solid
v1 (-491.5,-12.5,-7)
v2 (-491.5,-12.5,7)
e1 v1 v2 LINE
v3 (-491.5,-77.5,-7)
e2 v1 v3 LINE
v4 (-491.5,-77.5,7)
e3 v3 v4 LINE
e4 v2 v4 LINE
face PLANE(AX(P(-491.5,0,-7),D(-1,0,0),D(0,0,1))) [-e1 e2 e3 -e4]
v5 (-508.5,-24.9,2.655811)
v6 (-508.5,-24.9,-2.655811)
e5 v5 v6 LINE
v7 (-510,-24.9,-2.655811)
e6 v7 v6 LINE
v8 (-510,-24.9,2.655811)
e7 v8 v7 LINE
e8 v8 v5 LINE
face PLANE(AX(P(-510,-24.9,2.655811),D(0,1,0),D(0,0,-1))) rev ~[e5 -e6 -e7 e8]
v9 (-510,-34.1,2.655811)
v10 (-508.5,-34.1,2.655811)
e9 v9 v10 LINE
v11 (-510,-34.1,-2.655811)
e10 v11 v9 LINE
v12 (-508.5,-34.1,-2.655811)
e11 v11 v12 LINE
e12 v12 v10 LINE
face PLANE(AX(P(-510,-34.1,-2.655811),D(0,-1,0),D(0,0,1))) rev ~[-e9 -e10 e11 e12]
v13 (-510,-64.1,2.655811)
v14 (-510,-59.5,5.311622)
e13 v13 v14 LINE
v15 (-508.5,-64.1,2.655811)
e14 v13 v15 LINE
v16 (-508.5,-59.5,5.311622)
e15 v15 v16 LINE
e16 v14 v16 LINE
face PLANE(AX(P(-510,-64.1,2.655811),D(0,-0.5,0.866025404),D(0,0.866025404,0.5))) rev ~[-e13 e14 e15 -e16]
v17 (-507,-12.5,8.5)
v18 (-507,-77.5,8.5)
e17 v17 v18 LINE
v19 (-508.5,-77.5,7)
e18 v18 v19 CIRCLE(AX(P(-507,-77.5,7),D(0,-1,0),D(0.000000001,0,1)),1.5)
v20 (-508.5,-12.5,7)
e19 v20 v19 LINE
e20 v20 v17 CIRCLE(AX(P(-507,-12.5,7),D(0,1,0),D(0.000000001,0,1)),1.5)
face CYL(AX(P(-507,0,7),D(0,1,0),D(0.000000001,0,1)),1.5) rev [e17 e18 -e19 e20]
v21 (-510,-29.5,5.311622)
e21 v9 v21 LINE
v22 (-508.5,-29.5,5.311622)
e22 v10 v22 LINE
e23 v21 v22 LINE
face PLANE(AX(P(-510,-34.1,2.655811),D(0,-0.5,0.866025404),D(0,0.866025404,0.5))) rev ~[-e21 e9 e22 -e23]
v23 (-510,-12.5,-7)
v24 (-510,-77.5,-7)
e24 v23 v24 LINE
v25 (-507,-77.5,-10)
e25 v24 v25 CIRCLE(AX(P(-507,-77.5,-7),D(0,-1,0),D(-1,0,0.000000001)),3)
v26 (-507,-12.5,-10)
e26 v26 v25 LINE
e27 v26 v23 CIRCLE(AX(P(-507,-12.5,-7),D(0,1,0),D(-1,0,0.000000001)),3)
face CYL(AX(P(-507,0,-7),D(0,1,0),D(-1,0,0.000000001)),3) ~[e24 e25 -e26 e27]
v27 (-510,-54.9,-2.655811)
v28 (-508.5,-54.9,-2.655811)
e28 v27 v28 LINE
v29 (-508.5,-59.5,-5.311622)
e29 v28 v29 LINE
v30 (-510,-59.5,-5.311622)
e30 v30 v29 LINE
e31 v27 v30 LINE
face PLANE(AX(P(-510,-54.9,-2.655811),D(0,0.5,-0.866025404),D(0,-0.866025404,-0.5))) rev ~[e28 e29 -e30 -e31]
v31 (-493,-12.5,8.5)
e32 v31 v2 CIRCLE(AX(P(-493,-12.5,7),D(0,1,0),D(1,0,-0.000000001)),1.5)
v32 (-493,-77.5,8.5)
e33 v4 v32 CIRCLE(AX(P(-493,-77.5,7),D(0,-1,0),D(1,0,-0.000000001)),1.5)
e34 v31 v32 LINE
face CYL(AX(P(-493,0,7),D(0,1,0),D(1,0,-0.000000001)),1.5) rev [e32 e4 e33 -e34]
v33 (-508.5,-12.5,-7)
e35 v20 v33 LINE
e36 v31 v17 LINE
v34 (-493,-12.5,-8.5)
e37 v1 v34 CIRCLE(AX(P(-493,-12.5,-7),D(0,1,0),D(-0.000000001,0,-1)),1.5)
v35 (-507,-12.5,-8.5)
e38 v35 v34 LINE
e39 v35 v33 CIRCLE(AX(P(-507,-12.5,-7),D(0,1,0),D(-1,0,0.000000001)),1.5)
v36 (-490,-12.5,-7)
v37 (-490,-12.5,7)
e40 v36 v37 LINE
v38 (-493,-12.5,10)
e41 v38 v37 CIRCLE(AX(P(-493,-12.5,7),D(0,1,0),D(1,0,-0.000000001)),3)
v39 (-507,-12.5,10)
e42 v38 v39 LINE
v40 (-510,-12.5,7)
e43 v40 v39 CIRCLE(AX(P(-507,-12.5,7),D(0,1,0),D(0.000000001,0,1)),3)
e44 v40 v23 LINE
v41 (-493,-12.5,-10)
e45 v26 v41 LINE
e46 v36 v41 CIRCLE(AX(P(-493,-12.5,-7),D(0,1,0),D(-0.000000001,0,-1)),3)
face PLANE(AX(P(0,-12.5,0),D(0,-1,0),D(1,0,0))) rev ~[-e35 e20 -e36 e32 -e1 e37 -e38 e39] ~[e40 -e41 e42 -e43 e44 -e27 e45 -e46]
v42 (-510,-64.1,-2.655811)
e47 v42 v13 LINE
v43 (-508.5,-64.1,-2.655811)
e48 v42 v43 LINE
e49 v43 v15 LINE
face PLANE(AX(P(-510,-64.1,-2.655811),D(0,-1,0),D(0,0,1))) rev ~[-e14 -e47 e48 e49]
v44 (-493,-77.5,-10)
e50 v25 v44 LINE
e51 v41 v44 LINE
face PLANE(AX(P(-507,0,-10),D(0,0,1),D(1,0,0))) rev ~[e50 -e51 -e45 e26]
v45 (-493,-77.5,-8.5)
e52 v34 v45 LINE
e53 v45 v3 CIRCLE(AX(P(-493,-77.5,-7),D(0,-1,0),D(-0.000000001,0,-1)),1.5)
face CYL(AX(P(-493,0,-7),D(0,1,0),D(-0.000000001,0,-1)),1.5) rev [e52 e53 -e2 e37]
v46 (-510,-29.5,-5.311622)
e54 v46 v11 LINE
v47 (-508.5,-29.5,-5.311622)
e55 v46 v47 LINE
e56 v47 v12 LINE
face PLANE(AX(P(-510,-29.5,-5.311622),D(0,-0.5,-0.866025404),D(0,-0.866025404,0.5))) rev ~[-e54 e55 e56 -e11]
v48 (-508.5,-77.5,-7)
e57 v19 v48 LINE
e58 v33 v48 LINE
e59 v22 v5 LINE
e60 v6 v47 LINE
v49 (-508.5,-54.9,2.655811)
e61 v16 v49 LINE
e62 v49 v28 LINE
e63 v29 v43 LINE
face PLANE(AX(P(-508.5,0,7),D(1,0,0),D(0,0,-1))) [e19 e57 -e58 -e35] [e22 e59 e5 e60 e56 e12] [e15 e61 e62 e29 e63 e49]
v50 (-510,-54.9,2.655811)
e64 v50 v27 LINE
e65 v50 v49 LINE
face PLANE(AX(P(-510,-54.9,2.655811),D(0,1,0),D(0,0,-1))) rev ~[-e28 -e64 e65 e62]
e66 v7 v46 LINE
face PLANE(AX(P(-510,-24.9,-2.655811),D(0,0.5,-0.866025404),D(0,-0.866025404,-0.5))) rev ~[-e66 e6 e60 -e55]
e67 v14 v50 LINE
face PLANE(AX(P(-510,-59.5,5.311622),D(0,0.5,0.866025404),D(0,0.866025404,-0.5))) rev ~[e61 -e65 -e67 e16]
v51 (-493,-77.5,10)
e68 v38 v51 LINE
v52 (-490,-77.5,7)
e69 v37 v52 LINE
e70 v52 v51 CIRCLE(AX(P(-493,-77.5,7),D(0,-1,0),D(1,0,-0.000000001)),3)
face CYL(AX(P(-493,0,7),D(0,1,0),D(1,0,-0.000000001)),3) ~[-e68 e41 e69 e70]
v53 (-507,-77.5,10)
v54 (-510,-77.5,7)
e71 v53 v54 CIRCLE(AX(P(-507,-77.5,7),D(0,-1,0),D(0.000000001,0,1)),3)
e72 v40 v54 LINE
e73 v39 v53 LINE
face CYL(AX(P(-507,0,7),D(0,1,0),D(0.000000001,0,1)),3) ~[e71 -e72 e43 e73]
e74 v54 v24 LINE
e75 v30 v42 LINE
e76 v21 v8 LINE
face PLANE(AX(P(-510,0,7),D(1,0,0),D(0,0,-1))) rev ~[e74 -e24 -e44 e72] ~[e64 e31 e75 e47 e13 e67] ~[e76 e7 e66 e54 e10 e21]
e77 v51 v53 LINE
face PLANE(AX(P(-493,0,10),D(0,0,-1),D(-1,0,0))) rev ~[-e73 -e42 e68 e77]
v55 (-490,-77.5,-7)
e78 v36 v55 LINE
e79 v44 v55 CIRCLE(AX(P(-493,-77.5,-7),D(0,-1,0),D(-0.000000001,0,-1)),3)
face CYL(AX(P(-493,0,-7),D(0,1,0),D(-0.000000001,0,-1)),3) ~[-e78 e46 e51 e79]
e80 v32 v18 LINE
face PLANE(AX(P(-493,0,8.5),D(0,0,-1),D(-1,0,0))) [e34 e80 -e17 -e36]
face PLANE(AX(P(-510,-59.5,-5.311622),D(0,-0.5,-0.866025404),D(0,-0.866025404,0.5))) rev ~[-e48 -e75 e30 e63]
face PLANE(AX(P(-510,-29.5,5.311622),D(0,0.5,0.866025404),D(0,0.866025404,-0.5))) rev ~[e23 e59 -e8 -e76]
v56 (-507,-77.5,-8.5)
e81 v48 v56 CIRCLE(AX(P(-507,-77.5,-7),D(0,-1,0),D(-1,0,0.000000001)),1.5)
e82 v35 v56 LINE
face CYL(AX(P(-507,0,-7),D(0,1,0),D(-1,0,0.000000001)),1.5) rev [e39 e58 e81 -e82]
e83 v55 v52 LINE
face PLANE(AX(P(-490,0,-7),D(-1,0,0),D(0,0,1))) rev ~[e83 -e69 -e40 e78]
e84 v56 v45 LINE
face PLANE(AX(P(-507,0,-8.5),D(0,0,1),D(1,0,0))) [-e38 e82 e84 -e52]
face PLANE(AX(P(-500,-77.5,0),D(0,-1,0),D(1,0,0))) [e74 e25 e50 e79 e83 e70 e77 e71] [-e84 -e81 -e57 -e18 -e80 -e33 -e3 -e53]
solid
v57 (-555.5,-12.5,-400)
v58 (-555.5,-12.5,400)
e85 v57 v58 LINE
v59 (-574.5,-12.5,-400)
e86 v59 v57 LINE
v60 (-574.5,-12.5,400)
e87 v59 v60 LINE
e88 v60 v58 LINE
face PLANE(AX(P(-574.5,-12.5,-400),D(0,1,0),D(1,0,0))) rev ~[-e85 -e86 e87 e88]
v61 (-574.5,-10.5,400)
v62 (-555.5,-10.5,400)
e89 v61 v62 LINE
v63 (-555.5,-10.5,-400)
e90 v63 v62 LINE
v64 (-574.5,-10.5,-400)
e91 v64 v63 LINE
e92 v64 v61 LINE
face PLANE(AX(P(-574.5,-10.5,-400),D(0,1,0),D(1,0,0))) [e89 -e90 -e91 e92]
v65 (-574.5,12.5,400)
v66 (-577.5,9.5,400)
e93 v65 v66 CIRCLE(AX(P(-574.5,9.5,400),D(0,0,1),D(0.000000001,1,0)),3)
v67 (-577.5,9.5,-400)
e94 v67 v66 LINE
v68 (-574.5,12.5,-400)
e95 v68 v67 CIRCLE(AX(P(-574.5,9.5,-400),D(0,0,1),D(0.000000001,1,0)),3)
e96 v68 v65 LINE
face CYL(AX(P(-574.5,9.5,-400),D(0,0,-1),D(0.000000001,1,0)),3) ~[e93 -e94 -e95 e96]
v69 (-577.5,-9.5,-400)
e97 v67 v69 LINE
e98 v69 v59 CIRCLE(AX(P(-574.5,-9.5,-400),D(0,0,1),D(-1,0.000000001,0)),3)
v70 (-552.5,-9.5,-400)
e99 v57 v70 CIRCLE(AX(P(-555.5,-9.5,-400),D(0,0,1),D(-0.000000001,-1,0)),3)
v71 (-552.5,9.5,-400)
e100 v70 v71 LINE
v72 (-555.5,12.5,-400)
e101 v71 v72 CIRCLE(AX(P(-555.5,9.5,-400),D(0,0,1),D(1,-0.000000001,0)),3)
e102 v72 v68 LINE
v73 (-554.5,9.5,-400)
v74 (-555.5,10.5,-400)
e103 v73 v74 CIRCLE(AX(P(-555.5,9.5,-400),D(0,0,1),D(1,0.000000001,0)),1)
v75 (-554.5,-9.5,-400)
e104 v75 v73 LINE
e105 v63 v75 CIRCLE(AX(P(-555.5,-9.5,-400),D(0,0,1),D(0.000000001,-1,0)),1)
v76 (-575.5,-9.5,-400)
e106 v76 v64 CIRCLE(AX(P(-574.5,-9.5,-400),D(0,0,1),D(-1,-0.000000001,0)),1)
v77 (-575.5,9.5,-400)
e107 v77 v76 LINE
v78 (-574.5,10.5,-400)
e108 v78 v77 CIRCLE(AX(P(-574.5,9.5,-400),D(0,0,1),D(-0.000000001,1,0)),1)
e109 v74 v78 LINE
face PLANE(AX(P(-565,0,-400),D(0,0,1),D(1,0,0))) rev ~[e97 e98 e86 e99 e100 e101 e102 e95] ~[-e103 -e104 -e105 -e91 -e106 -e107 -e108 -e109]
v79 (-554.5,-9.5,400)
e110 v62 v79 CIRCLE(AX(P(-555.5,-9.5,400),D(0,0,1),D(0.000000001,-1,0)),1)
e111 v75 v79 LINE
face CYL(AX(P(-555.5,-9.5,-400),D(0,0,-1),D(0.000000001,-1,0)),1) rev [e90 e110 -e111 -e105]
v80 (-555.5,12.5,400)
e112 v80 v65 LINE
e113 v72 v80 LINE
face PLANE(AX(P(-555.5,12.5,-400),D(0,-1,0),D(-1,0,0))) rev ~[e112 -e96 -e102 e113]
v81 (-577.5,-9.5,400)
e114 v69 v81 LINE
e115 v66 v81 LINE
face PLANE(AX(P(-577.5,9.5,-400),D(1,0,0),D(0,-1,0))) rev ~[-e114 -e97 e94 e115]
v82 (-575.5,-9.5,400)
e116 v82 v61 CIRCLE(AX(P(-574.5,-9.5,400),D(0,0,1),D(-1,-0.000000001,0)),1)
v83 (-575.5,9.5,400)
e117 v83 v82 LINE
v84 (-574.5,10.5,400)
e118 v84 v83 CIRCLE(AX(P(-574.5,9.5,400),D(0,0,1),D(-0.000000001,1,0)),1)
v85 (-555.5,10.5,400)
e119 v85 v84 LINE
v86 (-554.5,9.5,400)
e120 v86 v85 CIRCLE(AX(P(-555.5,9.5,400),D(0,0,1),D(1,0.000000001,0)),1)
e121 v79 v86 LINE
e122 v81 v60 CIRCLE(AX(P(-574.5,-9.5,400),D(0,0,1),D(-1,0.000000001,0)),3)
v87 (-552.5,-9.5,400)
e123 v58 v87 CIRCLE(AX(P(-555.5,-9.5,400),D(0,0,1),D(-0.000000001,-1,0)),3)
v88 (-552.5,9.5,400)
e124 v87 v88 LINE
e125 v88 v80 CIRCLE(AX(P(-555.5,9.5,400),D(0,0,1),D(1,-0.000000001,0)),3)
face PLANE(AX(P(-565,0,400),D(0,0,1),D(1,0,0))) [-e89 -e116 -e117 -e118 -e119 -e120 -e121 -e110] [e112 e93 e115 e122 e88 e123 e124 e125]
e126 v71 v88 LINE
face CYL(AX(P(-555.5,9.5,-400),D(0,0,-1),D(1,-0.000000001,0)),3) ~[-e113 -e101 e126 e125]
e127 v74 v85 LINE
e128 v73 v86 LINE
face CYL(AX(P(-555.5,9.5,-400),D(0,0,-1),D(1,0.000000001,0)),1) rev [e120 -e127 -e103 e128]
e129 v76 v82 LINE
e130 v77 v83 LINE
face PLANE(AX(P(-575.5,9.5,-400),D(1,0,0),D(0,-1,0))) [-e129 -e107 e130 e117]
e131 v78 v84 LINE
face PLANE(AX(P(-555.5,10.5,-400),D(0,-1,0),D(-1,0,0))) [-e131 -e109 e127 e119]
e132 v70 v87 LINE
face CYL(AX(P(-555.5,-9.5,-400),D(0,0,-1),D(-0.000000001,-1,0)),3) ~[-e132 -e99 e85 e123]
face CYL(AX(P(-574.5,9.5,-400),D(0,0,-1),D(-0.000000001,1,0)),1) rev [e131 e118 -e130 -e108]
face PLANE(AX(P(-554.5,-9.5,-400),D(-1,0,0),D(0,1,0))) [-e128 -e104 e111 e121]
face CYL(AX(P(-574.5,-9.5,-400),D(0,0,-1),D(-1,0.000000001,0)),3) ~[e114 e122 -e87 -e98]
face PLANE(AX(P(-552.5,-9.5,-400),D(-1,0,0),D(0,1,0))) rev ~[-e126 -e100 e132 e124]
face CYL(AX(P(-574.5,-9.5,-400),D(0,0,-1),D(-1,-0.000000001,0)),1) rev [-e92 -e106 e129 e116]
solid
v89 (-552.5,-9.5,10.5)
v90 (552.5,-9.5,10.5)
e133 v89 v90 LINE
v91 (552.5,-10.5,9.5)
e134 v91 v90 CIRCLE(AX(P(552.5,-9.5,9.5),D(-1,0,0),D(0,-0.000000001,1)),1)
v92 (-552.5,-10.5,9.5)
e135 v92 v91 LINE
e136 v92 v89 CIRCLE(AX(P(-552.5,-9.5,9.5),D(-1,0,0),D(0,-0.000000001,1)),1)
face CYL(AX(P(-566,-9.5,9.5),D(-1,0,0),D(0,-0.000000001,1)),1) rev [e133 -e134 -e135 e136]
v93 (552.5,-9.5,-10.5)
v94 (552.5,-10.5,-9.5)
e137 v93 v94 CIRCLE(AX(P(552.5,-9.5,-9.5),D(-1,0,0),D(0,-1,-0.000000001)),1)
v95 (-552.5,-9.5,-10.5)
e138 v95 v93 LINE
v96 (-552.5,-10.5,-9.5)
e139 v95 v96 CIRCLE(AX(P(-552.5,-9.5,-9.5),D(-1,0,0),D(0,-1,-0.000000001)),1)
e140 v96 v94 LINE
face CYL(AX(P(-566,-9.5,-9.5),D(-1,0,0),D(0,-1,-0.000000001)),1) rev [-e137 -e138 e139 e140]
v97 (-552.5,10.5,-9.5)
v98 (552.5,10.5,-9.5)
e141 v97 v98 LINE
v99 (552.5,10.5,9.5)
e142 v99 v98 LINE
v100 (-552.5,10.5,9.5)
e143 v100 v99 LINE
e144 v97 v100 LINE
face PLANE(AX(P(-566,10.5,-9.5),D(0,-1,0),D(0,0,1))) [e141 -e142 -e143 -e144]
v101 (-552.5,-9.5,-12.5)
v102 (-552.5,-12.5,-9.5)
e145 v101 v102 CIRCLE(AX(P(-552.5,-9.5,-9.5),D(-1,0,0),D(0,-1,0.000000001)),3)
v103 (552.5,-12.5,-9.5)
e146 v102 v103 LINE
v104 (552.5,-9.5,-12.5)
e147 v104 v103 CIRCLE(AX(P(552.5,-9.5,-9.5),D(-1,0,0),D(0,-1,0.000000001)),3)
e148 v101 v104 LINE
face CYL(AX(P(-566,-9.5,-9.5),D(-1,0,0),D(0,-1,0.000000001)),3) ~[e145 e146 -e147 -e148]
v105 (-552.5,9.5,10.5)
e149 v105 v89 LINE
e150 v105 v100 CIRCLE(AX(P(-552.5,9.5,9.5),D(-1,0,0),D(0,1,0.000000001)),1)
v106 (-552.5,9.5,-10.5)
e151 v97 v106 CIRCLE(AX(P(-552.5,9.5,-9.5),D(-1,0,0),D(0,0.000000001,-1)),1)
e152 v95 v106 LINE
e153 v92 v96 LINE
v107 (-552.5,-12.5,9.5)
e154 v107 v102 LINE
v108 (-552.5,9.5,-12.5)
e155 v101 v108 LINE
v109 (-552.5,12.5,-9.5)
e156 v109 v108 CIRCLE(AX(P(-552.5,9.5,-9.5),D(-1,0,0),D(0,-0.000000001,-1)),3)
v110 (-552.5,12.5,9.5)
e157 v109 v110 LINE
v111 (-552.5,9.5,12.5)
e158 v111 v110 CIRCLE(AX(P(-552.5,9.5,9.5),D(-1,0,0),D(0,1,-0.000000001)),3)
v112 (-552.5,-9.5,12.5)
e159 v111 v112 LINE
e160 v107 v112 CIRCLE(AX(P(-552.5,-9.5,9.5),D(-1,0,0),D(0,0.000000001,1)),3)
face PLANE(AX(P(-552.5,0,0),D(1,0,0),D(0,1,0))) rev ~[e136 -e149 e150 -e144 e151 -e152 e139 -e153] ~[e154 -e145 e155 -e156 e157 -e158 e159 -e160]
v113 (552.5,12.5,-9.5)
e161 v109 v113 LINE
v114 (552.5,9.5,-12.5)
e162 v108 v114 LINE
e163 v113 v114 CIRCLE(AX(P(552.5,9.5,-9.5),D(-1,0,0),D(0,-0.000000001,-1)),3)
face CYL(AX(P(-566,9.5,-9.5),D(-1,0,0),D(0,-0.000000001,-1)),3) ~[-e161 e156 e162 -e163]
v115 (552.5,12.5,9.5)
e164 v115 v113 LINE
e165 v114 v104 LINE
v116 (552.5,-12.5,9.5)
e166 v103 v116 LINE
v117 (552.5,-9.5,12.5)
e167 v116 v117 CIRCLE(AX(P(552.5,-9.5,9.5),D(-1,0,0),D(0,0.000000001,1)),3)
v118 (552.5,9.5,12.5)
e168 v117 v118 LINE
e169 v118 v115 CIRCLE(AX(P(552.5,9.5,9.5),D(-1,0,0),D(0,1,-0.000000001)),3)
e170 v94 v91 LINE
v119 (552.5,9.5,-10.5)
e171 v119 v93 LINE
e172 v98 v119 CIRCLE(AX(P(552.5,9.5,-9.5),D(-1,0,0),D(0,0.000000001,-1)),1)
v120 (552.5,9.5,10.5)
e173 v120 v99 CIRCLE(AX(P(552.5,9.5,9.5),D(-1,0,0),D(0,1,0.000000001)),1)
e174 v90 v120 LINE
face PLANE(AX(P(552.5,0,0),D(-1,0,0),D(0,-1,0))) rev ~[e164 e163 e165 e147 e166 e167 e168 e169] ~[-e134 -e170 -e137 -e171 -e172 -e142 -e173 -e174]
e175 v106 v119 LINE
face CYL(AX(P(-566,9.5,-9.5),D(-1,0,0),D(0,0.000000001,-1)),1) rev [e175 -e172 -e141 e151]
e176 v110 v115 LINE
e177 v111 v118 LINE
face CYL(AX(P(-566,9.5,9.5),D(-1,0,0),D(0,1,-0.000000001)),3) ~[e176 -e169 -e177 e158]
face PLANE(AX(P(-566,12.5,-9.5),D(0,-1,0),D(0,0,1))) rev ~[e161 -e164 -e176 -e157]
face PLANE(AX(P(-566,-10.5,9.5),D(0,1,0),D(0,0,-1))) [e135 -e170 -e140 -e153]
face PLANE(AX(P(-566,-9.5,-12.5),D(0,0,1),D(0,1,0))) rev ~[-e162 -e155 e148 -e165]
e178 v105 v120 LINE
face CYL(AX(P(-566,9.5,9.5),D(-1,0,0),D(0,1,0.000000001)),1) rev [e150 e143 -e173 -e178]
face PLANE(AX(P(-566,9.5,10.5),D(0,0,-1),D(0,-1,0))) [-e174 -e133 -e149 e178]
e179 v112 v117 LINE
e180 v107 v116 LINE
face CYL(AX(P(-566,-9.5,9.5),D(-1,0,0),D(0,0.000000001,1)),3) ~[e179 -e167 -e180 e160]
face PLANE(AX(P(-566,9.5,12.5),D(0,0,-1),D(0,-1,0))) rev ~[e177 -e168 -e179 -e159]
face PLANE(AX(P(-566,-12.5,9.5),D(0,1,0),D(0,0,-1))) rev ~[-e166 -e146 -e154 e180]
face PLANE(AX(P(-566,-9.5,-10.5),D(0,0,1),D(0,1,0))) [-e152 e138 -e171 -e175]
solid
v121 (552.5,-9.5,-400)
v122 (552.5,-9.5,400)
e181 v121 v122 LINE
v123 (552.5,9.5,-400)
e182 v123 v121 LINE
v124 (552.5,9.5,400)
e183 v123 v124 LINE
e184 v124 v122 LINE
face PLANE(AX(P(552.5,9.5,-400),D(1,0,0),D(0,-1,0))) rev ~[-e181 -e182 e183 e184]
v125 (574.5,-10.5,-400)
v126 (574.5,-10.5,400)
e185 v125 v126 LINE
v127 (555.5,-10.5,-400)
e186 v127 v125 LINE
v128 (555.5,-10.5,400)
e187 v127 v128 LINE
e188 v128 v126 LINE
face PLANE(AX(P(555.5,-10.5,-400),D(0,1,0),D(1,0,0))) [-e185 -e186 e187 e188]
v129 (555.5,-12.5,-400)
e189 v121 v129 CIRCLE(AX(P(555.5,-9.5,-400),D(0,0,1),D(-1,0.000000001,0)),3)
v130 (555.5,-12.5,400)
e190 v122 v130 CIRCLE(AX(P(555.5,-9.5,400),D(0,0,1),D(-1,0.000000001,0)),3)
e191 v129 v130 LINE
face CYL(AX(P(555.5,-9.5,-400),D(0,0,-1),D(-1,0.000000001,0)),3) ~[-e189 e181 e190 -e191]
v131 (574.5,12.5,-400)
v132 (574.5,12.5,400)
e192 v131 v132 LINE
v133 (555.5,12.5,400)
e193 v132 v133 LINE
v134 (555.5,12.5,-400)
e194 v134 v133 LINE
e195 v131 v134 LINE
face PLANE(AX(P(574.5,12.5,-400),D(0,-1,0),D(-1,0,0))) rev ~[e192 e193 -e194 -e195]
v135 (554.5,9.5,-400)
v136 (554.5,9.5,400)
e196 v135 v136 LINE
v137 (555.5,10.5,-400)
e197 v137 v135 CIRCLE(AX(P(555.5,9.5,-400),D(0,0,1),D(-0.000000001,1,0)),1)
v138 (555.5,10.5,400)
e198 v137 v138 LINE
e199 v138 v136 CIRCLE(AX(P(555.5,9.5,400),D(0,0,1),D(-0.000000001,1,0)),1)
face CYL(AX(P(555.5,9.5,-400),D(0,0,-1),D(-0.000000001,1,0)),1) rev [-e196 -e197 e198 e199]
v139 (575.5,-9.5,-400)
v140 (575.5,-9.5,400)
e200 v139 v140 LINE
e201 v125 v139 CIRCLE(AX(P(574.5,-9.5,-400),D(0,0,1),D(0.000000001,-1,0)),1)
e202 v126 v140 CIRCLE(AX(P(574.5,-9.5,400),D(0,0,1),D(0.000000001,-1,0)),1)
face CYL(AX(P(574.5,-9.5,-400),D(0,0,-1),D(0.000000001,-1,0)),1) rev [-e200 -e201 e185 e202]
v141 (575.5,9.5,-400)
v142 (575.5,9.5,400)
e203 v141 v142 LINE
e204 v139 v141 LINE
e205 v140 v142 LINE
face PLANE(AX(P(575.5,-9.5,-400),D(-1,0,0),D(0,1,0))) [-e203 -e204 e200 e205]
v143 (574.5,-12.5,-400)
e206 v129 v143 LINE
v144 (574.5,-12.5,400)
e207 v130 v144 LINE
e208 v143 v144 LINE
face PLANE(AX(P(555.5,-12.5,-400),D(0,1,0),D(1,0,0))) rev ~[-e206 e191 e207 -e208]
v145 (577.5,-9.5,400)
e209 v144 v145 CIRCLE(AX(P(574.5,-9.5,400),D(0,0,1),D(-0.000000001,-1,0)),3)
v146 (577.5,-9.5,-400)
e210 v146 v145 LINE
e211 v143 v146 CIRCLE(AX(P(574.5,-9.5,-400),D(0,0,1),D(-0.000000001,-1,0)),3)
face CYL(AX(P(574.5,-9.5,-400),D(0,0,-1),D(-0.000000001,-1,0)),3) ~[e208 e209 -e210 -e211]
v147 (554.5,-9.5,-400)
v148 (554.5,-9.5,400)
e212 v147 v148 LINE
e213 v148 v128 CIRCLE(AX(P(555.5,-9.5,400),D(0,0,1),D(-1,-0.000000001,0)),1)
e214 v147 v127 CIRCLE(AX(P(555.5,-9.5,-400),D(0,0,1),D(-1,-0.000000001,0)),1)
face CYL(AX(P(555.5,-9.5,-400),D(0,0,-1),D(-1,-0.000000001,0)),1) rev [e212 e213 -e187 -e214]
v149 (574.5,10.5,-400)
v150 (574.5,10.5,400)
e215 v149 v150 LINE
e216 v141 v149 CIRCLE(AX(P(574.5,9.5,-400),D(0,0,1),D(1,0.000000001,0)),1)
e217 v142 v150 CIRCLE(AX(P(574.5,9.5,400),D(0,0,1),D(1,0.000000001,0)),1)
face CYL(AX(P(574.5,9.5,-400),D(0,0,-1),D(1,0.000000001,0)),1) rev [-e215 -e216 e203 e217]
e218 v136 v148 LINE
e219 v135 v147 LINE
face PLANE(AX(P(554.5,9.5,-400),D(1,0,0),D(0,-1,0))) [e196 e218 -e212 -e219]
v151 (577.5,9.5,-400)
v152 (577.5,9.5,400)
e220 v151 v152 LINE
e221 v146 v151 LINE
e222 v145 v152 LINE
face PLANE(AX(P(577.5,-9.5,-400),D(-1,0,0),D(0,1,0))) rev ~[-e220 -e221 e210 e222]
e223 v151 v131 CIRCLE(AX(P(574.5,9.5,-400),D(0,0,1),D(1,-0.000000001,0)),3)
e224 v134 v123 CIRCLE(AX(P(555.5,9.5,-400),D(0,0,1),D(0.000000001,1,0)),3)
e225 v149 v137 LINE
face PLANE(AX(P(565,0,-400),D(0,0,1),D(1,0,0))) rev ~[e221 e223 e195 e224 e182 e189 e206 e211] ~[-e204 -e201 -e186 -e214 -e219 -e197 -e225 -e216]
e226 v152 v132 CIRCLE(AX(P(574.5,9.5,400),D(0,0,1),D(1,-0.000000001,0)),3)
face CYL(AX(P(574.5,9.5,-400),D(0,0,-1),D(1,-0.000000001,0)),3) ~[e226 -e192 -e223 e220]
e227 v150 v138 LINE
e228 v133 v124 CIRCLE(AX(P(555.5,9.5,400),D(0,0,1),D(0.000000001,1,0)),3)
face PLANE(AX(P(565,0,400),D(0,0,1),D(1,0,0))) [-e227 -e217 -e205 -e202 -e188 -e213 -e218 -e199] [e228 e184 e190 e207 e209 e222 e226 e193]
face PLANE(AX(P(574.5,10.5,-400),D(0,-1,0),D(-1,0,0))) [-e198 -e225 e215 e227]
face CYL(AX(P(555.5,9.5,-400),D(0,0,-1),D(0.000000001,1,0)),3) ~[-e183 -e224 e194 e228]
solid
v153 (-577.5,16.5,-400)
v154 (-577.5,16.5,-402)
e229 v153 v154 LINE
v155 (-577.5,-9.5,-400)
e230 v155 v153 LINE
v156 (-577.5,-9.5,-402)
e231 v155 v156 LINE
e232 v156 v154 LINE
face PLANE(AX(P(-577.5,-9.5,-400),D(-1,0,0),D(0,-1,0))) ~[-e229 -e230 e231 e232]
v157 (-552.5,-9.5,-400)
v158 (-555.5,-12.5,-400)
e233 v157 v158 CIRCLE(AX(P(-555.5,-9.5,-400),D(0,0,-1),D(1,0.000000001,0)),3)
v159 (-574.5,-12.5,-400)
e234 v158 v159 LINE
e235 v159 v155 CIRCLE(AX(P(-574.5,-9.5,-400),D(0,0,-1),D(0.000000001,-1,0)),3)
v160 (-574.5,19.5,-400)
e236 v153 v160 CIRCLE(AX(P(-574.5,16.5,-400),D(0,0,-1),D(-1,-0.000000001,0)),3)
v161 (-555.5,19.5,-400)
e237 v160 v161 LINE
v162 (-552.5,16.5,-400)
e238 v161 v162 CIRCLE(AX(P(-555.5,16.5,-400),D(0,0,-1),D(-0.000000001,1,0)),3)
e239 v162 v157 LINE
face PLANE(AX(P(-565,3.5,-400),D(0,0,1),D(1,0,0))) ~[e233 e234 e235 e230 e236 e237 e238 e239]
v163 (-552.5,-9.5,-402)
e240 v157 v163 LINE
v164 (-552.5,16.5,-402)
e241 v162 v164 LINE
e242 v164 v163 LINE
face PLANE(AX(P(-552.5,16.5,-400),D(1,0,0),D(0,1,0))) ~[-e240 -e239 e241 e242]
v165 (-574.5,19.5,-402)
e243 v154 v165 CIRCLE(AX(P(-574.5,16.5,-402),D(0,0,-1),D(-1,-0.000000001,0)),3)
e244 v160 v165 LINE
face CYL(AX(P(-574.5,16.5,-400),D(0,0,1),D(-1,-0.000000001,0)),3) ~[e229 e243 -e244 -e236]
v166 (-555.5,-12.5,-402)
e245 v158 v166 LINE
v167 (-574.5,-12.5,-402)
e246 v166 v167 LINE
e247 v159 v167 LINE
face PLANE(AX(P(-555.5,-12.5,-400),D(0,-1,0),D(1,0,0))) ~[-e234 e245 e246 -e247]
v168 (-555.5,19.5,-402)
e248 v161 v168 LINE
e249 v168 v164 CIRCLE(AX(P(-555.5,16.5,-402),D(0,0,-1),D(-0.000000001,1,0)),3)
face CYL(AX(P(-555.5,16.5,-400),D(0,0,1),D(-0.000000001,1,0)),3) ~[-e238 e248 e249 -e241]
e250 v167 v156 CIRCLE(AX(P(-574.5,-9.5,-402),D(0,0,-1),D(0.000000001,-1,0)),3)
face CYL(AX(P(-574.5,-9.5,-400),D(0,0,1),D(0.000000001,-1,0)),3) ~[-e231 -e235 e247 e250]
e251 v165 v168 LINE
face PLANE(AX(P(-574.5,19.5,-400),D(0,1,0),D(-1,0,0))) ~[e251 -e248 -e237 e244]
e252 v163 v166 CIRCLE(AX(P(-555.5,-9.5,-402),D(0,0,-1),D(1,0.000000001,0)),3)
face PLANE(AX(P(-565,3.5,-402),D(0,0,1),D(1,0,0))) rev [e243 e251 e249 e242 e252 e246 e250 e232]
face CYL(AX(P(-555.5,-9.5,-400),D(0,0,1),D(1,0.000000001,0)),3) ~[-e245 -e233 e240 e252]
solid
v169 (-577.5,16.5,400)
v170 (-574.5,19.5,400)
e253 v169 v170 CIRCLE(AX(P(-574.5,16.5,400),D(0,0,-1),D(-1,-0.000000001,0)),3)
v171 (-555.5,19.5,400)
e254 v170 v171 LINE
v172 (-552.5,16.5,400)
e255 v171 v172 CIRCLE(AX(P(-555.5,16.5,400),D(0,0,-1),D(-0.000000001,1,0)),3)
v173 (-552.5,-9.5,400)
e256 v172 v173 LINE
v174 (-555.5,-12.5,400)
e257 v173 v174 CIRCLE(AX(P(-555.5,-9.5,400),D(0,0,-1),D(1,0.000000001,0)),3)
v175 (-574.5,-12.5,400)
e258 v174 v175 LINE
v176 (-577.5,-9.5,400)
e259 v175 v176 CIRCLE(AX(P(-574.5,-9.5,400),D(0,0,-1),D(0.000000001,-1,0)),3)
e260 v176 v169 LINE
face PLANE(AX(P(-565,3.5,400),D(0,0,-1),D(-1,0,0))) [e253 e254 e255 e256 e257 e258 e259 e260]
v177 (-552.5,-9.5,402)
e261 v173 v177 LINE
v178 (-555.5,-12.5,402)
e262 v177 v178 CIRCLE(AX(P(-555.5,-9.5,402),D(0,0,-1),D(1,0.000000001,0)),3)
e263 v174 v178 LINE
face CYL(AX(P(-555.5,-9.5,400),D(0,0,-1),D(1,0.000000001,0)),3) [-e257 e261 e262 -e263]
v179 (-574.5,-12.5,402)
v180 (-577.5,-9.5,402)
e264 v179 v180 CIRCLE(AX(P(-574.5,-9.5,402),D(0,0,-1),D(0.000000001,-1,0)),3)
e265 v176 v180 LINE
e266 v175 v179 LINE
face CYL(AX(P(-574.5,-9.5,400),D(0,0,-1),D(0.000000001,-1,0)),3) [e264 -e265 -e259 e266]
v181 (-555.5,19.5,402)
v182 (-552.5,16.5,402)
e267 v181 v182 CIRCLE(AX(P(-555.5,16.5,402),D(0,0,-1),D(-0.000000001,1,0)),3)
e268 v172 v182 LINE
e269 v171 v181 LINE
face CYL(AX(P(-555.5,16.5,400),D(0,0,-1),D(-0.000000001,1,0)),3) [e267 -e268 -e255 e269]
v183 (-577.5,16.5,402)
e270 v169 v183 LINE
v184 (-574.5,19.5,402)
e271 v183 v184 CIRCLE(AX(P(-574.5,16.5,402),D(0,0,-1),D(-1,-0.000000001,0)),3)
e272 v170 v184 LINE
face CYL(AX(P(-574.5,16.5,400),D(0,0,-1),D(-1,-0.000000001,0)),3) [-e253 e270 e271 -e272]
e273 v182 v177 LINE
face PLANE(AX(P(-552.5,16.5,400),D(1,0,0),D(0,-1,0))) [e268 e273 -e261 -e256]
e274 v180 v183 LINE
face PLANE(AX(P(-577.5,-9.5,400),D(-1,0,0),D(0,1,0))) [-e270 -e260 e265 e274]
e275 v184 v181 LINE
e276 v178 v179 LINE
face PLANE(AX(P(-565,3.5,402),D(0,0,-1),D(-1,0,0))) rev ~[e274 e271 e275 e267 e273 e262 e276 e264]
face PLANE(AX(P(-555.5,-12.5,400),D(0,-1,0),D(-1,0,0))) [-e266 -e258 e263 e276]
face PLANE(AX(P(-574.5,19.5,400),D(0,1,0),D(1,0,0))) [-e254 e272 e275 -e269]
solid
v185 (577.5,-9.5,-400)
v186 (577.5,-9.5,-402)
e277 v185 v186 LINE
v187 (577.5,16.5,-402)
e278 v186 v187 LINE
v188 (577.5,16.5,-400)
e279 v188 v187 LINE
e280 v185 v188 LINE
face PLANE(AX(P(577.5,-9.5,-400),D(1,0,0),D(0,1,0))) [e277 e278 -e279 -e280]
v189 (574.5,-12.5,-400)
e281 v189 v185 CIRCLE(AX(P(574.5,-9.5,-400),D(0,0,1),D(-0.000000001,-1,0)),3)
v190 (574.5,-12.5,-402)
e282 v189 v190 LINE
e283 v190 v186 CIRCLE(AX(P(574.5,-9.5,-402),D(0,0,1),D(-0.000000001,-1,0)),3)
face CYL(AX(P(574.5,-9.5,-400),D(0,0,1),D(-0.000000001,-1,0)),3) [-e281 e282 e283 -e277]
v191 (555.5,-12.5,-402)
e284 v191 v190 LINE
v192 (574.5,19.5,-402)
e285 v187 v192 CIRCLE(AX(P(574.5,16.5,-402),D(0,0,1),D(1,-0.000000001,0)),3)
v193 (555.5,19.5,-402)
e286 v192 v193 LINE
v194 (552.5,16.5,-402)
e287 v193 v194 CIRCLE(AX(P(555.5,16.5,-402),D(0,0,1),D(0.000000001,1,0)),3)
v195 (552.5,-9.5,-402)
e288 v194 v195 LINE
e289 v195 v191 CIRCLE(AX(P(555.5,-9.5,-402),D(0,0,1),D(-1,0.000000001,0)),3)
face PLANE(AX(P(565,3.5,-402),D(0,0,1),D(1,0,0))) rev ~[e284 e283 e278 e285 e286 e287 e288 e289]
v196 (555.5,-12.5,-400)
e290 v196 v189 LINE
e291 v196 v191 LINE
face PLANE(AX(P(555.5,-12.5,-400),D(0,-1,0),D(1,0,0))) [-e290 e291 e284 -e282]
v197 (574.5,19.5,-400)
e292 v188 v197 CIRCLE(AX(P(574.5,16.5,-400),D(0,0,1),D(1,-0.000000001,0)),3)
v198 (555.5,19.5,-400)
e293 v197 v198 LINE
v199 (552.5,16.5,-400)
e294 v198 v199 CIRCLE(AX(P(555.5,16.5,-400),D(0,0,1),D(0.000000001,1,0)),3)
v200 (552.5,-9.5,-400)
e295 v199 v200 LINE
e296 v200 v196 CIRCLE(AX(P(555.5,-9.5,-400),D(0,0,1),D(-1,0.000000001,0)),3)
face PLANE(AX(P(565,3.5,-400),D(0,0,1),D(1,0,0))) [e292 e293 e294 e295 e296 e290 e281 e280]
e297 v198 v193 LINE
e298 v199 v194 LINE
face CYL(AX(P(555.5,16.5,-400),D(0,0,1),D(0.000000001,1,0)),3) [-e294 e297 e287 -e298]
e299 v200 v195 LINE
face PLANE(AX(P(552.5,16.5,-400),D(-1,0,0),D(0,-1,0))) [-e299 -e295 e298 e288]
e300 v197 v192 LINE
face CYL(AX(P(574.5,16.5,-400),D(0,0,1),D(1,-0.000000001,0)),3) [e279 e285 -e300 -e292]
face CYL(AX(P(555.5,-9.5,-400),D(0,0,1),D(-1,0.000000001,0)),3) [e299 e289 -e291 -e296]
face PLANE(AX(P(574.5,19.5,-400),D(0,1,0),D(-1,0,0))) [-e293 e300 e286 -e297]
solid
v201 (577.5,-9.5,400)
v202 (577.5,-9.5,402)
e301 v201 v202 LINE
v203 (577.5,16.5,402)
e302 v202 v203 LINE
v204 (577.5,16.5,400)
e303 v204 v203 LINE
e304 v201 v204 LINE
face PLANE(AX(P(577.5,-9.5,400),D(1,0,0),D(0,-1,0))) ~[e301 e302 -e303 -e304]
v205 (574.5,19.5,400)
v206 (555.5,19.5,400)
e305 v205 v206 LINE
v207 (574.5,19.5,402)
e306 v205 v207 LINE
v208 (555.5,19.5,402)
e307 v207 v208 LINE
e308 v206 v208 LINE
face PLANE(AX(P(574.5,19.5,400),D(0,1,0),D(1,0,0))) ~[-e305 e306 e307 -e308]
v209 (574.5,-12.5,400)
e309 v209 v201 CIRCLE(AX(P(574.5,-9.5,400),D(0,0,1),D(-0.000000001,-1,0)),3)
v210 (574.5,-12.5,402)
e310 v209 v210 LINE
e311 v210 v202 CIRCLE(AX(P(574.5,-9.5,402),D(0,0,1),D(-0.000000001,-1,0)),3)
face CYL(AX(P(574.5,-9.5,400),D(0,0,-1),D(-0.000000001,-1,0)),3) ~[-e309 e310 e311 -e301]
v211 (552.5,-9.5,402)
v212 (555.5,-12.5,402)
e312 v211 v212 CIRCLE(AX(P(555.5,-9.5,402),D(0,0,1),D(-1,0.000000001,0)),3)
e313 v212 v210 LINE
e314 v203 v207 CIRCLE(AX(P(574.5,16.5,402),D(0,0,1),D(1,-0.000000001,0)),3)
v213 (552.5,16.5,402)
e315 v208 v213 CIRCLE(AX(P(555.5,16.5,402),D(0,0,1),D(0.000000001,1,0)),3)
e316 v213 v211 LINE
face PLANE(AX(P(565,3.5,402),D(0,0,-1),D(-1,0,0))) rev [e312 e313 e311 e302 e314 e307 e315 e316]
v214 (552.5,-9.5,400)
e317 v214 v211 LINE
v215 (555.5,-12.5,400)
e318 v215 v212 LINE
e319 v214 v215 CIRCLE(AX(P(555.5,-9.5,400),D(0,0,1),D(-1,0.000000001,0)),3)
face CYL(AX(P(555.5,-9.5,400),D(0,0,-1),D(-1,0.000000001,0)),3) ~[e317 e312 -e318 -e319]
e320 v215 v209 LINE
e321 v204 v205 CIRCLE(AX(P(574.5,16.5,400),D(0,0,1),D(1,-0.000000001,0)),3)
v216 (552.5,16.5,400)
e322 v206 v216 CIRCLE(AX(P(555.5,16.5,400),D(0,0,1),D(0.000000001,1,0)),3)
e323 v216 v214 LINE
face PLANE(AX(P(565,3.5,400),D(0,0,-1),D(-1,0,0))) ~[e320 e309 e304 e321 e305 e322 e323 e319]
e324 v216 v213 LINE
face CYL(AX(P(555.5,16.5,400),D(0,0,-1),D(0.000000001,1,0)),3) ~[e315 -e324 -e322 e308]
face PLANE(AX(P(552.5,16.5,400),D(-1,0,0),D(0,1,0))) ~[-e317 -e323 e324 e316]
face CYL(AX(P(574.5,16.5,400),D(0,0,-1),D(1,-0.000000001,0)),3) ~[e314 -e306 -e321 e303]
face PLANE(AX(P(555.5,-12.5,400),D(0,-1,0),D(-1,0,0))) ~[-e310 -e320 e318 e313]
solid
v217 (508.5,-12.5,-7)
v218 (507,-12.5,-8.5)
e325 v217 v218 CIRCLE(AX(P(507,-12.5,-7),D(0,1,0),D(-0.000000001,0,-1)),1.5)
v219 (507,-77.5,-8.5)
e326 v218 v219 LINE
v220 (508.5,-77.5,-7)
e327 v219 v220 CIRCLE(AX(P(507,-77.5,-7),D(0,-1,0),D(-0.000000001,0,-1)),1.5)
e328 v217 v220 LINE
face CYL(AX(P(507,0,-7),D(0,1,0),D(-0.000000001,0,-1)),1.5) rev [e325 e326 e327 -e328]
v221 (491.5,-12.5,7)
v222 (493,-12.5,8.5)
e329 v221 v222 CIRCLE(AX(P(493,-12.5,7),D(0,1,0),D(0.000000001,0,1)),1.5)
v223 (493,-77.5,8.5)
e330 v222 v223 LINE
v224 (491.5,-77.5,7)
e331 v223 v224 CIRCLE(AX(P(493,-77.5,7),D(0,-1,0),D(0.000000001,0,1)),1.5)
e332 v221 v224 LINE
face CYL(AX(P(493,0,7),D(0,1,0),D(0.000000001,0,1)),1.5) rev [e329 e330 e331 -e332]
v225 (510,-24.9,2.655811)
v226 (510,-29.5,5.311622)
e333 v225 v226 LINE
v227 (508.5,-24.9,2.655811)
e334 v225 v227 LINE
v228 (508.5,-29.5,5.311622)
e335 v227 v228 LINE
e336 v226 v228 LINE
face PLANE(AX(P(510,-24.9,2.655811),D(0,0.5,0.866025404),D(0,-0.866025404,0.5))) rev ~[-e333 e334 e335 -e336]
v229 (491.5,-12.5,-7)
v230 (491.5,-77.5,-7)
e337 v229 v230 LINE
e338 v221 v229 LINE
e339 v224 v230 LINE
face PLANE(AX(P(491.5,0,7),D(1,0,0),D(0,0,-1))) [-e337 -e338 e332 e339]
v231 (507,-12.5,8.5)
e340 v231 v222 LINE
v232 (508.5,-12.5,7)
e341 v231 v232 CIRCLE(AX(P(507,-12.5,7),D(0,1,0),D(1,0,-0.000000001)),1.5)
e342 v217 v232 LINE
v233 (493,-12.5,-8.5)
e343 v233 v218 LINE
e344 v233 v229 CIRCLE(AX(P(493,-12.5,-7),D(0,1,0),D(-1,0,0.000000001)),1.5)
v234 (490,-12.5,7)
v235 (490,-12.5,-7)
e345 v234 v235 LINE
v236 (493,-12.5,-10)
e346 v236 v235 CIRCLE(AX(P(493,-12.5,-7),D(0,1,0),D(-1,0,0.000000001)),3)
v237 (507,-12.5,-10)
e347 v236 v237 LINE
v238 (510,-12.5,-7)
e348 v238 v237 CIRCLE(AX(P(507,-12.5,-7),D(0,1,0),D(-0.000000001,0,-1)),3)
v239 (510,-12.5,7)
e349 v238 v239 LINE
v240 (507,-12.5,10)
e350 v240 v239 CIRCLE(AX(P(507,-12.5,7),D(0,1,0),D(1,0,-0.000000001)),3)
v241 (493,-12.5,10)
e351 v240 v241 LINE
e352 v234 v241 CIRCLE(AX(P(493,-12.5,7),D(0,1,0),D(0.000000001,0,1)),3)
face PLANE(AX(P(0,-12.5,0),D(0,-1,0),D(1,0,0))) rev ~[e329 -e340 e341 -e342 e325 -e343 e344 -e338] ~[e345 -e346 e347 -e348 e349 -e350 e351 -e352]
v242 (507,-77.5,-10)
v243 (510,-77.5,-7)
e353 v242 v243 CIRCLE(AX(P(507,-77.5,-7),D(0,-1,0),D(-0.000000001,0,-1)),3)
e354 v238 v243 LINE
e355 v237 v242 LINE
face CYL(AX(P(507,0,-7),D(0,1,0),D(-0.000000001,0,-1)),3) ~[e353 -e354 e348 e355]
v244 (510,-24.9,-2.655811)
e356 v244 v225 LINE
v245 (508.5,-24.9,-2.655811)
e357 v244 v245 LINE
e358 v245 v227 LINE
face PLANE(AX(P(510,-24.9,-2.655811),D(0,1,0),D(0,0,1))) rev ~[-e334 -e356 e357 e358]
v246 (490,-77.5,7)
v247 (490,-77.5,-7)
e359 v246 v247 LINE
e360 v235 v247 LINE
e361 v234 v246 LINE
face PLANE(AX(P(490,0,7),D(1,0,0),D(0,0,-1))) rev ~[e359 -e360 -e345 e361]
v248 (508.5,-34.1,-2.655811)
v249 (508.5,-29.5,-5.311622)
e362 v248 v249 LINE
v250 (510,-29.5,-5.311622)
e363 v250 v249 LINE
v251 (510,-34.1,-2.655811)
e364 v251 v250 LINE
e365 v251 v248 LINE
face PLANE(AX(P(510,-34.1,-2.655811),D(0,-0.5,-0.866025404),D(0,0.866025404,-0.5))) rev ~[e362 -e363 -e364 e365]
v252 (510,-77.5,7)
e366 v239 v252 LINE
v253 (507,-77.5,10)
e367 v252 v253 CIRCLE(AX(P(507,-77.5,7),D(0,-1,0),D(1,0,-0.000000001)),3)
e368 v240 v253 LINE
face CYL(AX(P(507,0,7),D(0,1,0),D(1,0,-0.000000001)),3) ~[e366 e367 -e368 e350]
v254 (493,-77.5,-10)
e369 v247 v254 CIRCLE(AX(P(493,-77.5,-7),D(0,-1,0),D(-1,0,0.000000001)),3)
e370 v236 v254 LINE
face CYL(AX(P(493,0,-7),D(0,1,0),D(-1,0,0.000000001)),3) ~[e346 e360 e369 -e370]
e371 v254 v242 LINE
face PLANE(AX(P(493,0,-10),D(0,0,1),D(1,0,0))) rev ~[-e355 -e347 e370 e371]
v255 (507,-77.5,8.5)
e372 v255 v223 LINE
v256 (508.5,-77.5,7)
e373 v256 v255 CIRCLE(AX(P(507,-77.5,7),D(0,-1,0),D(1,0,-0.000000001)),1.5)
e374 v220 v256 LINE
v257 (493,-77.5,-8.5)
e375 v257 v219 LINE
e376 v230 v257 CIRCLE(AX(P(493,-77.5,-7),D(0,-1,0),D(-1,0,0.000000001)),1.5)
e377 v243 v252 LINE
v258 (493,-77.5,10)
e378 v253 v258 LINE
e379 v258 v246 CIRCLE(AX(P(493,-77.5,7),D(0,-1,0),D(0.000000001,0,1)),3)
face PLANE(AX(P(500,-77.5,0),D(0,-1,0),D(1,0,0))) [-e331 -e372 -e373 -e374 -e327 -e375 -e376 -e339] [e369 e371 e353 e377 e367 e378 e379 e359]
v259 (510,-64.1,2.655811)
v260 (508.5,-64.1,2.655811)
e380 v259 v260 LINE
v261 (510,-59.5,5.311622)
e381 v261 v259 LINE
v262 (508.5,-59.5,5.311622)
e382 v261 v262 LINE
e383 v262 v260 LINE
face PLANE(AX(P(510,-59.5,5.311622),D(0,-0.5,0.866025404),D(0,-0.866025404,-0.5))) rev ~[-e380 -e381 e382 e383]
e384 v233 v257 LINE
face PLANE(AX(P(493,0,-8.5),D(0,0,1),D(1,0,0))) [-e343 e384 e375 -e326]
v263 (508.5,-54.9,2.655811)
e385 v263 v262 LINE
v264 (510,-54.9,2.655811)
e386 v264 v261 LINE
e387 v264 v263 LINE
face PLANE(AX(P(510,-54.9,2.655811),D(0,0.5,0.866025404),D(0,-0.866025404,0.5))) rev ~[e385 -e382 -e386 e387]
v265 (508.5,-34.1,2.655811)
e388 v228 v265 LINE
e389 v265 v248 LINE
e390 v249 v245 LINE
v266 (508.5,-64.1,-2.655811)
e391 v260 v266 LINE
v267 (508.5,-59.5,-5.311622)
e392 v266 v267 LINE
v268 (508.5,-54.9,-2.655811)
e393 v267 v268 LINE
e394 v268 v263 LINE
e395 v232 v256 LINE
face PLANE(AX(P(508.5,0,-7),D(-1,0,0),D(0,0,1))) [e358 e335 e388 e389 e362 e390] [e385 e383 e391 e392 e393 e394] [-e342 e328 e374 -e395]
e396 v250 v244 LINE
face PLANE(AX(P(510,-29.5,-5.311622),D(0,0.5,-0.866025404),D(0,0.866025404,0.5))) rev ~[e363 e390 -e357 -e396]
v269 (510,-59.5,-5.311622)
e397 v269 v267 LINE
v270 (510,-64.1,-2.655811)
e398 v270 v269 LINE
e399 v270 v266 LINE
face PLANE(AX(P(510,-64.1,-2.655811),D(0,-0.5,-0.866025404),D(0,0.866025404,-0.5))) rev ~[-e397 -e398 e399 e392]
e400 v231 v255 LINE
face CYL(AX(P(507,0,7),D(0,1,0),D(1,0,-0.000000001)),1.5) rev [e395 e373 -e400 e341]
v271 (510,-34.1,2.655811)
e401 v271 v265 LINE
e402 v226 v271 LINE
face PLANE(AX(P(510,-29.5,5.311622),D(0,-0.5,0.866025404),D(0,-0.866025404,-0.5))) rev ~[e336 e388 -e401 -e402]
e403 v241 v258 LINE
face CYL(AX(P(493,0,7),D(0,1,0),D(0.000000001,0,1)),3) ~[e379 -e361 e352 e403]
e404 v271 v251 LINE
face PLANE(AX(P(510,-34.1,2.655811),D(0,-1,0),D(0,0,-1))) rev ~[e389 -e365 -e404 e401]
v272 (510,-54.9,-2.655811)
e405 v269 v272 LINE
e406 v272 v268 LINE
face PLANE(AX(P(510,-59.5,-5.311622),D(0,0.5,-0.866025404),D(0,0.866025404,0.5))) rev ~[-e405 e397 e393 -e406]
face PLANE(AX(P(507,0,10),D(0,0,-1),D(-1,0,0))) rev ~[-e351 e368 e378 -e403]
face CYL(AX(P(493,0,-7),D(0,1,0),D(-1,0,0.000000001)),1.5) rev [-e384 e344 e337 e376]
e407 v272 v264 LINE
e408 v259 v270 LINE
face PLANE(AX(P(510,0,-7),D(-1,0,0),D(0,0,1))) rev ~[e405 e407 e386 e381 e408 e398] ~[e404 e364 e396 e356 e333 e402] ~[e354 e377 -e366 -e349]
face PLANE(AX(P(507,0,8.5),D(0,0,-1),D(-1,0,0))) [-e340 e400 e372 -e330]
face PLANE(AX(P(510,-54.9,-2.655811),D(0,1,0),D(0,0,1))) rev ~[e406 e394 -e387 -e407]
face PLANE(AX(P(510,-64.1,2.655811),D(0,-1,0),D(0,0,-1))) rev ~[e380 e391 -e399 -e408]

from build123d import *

# Parameters (mm, degrees)
F_2_X_2_X_0_25_1_DEPTH   = 800
F_2_X_2_X_0_25_1_2_DEPTH = 800
F_2_X_2_X_0_25_1_3_DEPTH = 1132
F_2_X_2_X_0_25_2_DEPTH   = 77.5
F_2_X_2_X_0_25_2_2_DEPTH = 77.5
EXTRUDE_1_DEPTH          = 2
CUT_EXTRUDE_3_DEPTH      = 1.5
CUT_EXTRUDE_4_DEPTH      = 1.5


with BuildPart() as part:
    # Sketch1 → Квадратная труба 2 X 2 X 0.25(1) (new body)
    with BuildSketch(Plane(origin=(-565, 0, -400), x_dir=(1, 0, 0), z_dir=(0, 0, 1))):
        with BuildLine():
            Line((-9.5, -12.5), (9.5, -12.5))
            ThreePointArc((9.5, -12.5), (11.621320344, -11.621320344), (12.5, -9.5))
            Line((12.5, -9.5), (12.5, 9.5))
            ThreePointArc((12.5, 9.5), (11.621320344, 11.621320344), (9.5, 12.5))
            Line((9.5, 12.5), (-9.5, 12.5))
            ThreePointArc((-9.5, 12.5), (-11.621320344, 11.621320344), (-12.5, 9.5))
            Line((-12.5, 9.5), (-12.5, -9.5))
            ThreePointArc((-12.5, -9.5), (-11.621320344, -11.621320344), (-9.5, -12.5))
        make_face()
        with BuildLine():
            Line((-9.5, -10.5), (9.5, -10.5))
            ThreePointArc((9.5, -10.5), (10.207106781, -10.207106781), (10.5, -9.5))
            Line((10.5, -9.5), (10.5, 9.5))
            ThreePointArc((10.5, 9.5), (10.207106781, 10.207106781), (9.5, 10.5))
            Line((9.5, 10.5), (-9.5, 10.5))
            ThreePointArc((-9.5, 10.5), (-10.207106781, 10.207106781), (-10.5, 9.5))
            Line((-10.5, 9.5), (-10.5, -9.5))
            ThreePointArc((-10.5, -9.5), (-10.207106781, -10.207106781), (-9.5, -10.5))
        make_face(mode=Mode.SUBTRACT)
    extrude(amount=F_2_X_2_X_0_25_1_DEPTH)


with BuildPart() as body_2:
    # Sketch1 on segment 2 (carried to segment 2) → 2 X 2 X 0.25_1 2 (new body)
    with BuildSketch(Plane(origin=(565, 0, -400), x_dir=(1, 0, 0), z_dir=(0, 0, 1))):
        with BuildLine():
            Line((-9.5, -12.5), (9.5, -12.5))
            ThreePointArc((9.5, -12.5), (11.621320344, -11.621320344), (12.5, -9.5))
            Line((12.5, -9.5), (12.5, 9.5))
            ThreePointArc((12.5, 9.5), (11.621320344, 11.621320344), (9.5, 12.5))
            Line((9.5, 12.5), (-9.5, 12.5))
            ThreePointArc((-9.5, 12.5), (-11.621320344, 11.621320344), (-12.5, 9.5))
            Line((-12.5, 9.5), (-12.5, -9.5))
            ThreePointArc((-12.5, -9.5), (-11.621320344, -11.621320344), (-9.5, -12.5))
        make_face()
        with BuildLine():
            Line((-9.5, -10.5), (9.5, -10.5))
            ThreePointArc((9.5, -10.5), (10.207106781, -10.207106781), (10.5, -9.5))
            Line((10.5, -9.5), (10.5, 9.5))
            ThreePointArc((10.5, 9.5), (10.207106781, 10.207106781), (9.5, 10.5))
            Line((9.5, 10.5), (-9.5, 10.5))
            ThreePointArc((-9.5, 10.5), (-10.207106781, 10.207106781), (-10.5, 9.5))
            Line((-10.5, 9.5), (-10.5, -9.5))
            ThreePointArc((-10.5, -9.5), (-10.207106781, -10.207106781), (-9.5, -10.5))
        make_face(mode=Mode.SUBTRACT)
    extrude(amount=F_2_X_2_X_0_25_1_2_DEPTH)


with BuildPart() as body_3:
    # Sketch1 on segment 3 (carried to segment 3) → 2 X 2 X 0.25_1 3 (new body)
    with BuildSketch(Plane(origin=(-566, 0, 0), x_dir=(0, 0, -1), z_dir=(1, 0, 0))):
        with BuildLine():
            Line((-9.5, -12.5), (9.5, -12.5))
            ThreePointArc((9.5, -12.5), (11.621320344, -11.621320344), (12.5, -9.5))
            Line((12.5, -9.5), (12.5, 9.5))
            ThreePointArc((12.5, 9.5), (11.621320344, 11.621320344), (9.5, 12.5))
            Line((9.5, 12.5), (-9.5, 12.5))
            ThreePointArc((-9.5, 12.5), (-11.621320344, 11.621320344), (-12.5, 9.5))
            Line((-12.5, 9.5), (-12.5, -9.5))
            ThreePointArc((-12.5, -9.5), (-11.621320344, -11.621320344), (-9.5, -12.5))
        make_face()
        with BuildLine():
            Line((-9.5, -10.5), (9.5, -10.5))
            ThreePointArc((9.5, -10.5), (10.207106781, -10.207106781), (10.5, -9.5))
            Line((10.5, -9.5), (10.5, 9.5))
            ThreePointArc((10.5, 9.5), (10.207106781, 10.207106781), (9.5, 10.5))
            Line((9.5, 10.5), (-9.5, 10.5))
            ThreePointArc((-9.5, 10.5), (-10.207106781, 10.207106781), (-10.5, 9.5))
            Line((-10.5, 9.5), (-10.5, -9.5))
            ThreePointArc((-10.5, -9.5), (-10.207106781, -10.207106781), (-9.5, -10.5))
        make_face(mode=Mode.SUBTRACT)
    extrude(amount=F_2_X_2_X_0_25_1_3_DEPTH)

    # 2 X 2 X 0.25_1 3 end butt 1
    split(bisect_by=Plane.YZ.offset(-552.5), keep=Keep.TOP)

    # 2 X 2 X 0.25_1 3 end butt 2
    split(bisect_by=Plane(origin=(552.5, 0, 0), x_dir=(0, -1, 0), z_dir=(-1, 0, 0)), keep=Keep.TOP)


with BuildPart() as body_4:
    # Sketch11 → Квадратная труба 2 X 2 X 0.25(2) (new body)
    with BuildSketch(Plane(origin=(-500, 0, 0), x_dir=(1, 0, 0), z_dir=(0, -1, 0))):
        with BuildLine():
            Line((-7, -10), (7, -10))
            ThreePointArc((7, -10), (9.121320344, -9.121320344), (10, -7))
            Line((10, -7), (10, 7))
            ThreePointArc((10, 7), (9.121320344, 9.121320344), (7, 10))
            Line((7, 10), (-7, 10))
            ThreePointArc((-7, 10), (-9.121320344, 9.121320344), (-10, 7))
            Line((-10, 7), (-10, -7))
            ThreePointArc((-10, -7), (-9.121320344, -9.121320344), (-7, -10))
        make_face()
        with BuildLine():
            Line((-7, -8.5), (7, -8.5))
            ThreePointArc((7, -8.5), (8.060660172, -8.060660172), (8.5, -7))
            Line((8.5, -7), (8.5, 7))
            ThreePointArc((8.5, 7), (8.060660172, 8.060660172), (7, 8.5))
            Line((7, 8.5), (-7, 8.5))
            ThreePointArc((-7, 8.5), (-8.060660172, 8.060660172), (-8.5, 7))
            Line((-8.5, 7), (-8.5, -7))
            ThreePointArc((-8.5, -7), (-8.060660172, -8.060660172), (-7, -8.5))
        make_face(mode=Mode.SUBTRACT)
    extrude(amount=F_2_X_2_X_0_25_2_DEPTH)

    # Weld Trim 2
    split(bisect_by=Plane.XZ.offset(12.5), keep=Keep.TOP)

    # Эскиз8 → Вырез-Вытянуть4 (cut)
    with BuildSketch(Plane.ZY.offset(510)):
        Polygon((2.655811238, -34.1), (5.311622477, -29.5), (2.655811238, -24.9), (-2.655811238, -24.9), (-5.311622477, -29.5), (-2.655811238, -34.1), align=None)
        Polygon((2.655811238, -64.1), (5.311622477, -59.5), (2.655811238, -54.9), (-2.655811238, -54.9), (-5.311622477, -59.5), (-2.655811238, -64.1), align=None)
    extrude(amount=-CUT_EXTRUDE_4_DEPTH, mode=Mode.SUBTRACT)


with BuildPart() as body_5:
    # Sketch11 on segment 2 (carried to segment 2) → 2 X 2 X 0.25_2 2 (new body)
    with BuildSketch(Plane(origin=(500, 0, 0), x_dir=(1, 0, 0), z_dir=(0, -1, 0))):
        with BuildLine():
            Line((-7, -10), (7, -10))
            ThreePointArc((7, -10), (9.121320344, -9.121320344), (10, -7))
            Line((10, -7), (10, 7))
            ThreePointArc((10, 7), (9.121320344, 9.121320344), (7, 10))
            Line((7, 10), (-7, 10))
            ThreePointArc((-7, 10), (-9.121320344, 9.121320344), (-10, 7))
            Line((-10, 7), (-10, -7))
            ThreePointArc((-10, -7), (-9.121320344, -9.121320344), (-7, -10))
        make_face()
        with BuildLine():
            Line((-7, -8.5), (7, -8.5))
            ThreePointArc((7, -8.5), (8.060660172, -8.060660172), (8.5, -7))
            Line((8.5, -7), (8.5, 7))
            ThreePointArc((8.5, 7), (8.060660172, 8.060660172), (7, 8.5))
            Line((7, 8.5), (-7, 8.5))
            ThreePointArc((-7, 8.5), (-8.060660172, 8.060660172), (-8.5, 7))
            Line((-8.5, 7), (-8.5, -7))
            ThreePointArc((-8.5, -7), (-8.060660172, -8.060660172), (-7, -8.5))
        make_face(mode=Mode.SUBTRACT)
    extrude(amount=F_2_X_2_X_0_25_2_2_DEPTH)

    # Weld Trim 2
    split(bisect_by=Plane.XZ.offset(12.5), keep=Keep.TOP)

    # Эскиз7 → Вырез-Вытянуть3 (cut)
    with BuildSketch(Plane(origin=(510, 0, 0), x_dir=(0, 0, -1), z_dir=(1, 0, 0))):
        Polygon((5.311622477, -29.5), (2.655811238, -24.9), (-2.655811238, -24.9), (-5.311622477, -29.5), (-2.655811238, -34.1), (2.655811238, -34.1), align=None)
        Polygon((5.311622477, -59.5), (2.655811238, -54.9), (-2.655811238, -54.9), (-5.311622477, -59.5), (-2.655811238, -64.1), (2.655811238, -64.1), align=None)
    extrude(amount=-CUT_EXTRUDE_3_DEPTH, mode=Mode.SUBTRACT)


with BuildPart() as body_6:
    # Эскиз5 → Бобышка-Вытянуть1 (new body)
    with BuildSketch(Plane.XY.offset(400)):
        with BuildLine():
            Line((-574.5, 19.5), (-555.5, 19.5))
            ThreePointArc((-555.5, 19.5), (-553.378679656, 18.621320344), (-552.5, 16.5))
            Line((-552.5, 16.5), (-552.5, -9.5))
            ThreePointArc((-552.5, -9.5), (-553.378679656, -11.621320344), (-555.5, -12.5))
            Line((-555.5, -12.5), (-574.5, -12.5))
            ThreePointArc((-574.5, -12.5), (-576.621320344, -11.621320344), (-577.5, -9.5))
            Line((-577.5, -9.5), (-577.5, 16.5))
            ThreePointArc((-577.5, 16.5), (-576.621320344, 18.621320344), (-574.5, 19.5))
        make_face()
    extrude(amount=EXTRUDE_1_DEPTH)


with BuildPart() as body_7:
    # Зеркальное отражение2: mirrored copy
    add(body_6.part.mirror(Plane(origin=(0, 0, 0), x_dir=(0, 0, 1), z_dir=(1, 0, 0))))


with BuildPart() as body_8:
    # Зеркальное отражение3: mirrored copy
    add(body_6.part.mirror(Plane.XY))


with BuildPart() as body_9:
    # Mirror 3 2: mirrored copy
    add(body_7.part.mirror(Plane.XY))


solid = Compound([part.part, body_2.part, body_3.part, body_4.part, body_5.part, body_6.part, body_7.part, body_8.part, body_9.part])
